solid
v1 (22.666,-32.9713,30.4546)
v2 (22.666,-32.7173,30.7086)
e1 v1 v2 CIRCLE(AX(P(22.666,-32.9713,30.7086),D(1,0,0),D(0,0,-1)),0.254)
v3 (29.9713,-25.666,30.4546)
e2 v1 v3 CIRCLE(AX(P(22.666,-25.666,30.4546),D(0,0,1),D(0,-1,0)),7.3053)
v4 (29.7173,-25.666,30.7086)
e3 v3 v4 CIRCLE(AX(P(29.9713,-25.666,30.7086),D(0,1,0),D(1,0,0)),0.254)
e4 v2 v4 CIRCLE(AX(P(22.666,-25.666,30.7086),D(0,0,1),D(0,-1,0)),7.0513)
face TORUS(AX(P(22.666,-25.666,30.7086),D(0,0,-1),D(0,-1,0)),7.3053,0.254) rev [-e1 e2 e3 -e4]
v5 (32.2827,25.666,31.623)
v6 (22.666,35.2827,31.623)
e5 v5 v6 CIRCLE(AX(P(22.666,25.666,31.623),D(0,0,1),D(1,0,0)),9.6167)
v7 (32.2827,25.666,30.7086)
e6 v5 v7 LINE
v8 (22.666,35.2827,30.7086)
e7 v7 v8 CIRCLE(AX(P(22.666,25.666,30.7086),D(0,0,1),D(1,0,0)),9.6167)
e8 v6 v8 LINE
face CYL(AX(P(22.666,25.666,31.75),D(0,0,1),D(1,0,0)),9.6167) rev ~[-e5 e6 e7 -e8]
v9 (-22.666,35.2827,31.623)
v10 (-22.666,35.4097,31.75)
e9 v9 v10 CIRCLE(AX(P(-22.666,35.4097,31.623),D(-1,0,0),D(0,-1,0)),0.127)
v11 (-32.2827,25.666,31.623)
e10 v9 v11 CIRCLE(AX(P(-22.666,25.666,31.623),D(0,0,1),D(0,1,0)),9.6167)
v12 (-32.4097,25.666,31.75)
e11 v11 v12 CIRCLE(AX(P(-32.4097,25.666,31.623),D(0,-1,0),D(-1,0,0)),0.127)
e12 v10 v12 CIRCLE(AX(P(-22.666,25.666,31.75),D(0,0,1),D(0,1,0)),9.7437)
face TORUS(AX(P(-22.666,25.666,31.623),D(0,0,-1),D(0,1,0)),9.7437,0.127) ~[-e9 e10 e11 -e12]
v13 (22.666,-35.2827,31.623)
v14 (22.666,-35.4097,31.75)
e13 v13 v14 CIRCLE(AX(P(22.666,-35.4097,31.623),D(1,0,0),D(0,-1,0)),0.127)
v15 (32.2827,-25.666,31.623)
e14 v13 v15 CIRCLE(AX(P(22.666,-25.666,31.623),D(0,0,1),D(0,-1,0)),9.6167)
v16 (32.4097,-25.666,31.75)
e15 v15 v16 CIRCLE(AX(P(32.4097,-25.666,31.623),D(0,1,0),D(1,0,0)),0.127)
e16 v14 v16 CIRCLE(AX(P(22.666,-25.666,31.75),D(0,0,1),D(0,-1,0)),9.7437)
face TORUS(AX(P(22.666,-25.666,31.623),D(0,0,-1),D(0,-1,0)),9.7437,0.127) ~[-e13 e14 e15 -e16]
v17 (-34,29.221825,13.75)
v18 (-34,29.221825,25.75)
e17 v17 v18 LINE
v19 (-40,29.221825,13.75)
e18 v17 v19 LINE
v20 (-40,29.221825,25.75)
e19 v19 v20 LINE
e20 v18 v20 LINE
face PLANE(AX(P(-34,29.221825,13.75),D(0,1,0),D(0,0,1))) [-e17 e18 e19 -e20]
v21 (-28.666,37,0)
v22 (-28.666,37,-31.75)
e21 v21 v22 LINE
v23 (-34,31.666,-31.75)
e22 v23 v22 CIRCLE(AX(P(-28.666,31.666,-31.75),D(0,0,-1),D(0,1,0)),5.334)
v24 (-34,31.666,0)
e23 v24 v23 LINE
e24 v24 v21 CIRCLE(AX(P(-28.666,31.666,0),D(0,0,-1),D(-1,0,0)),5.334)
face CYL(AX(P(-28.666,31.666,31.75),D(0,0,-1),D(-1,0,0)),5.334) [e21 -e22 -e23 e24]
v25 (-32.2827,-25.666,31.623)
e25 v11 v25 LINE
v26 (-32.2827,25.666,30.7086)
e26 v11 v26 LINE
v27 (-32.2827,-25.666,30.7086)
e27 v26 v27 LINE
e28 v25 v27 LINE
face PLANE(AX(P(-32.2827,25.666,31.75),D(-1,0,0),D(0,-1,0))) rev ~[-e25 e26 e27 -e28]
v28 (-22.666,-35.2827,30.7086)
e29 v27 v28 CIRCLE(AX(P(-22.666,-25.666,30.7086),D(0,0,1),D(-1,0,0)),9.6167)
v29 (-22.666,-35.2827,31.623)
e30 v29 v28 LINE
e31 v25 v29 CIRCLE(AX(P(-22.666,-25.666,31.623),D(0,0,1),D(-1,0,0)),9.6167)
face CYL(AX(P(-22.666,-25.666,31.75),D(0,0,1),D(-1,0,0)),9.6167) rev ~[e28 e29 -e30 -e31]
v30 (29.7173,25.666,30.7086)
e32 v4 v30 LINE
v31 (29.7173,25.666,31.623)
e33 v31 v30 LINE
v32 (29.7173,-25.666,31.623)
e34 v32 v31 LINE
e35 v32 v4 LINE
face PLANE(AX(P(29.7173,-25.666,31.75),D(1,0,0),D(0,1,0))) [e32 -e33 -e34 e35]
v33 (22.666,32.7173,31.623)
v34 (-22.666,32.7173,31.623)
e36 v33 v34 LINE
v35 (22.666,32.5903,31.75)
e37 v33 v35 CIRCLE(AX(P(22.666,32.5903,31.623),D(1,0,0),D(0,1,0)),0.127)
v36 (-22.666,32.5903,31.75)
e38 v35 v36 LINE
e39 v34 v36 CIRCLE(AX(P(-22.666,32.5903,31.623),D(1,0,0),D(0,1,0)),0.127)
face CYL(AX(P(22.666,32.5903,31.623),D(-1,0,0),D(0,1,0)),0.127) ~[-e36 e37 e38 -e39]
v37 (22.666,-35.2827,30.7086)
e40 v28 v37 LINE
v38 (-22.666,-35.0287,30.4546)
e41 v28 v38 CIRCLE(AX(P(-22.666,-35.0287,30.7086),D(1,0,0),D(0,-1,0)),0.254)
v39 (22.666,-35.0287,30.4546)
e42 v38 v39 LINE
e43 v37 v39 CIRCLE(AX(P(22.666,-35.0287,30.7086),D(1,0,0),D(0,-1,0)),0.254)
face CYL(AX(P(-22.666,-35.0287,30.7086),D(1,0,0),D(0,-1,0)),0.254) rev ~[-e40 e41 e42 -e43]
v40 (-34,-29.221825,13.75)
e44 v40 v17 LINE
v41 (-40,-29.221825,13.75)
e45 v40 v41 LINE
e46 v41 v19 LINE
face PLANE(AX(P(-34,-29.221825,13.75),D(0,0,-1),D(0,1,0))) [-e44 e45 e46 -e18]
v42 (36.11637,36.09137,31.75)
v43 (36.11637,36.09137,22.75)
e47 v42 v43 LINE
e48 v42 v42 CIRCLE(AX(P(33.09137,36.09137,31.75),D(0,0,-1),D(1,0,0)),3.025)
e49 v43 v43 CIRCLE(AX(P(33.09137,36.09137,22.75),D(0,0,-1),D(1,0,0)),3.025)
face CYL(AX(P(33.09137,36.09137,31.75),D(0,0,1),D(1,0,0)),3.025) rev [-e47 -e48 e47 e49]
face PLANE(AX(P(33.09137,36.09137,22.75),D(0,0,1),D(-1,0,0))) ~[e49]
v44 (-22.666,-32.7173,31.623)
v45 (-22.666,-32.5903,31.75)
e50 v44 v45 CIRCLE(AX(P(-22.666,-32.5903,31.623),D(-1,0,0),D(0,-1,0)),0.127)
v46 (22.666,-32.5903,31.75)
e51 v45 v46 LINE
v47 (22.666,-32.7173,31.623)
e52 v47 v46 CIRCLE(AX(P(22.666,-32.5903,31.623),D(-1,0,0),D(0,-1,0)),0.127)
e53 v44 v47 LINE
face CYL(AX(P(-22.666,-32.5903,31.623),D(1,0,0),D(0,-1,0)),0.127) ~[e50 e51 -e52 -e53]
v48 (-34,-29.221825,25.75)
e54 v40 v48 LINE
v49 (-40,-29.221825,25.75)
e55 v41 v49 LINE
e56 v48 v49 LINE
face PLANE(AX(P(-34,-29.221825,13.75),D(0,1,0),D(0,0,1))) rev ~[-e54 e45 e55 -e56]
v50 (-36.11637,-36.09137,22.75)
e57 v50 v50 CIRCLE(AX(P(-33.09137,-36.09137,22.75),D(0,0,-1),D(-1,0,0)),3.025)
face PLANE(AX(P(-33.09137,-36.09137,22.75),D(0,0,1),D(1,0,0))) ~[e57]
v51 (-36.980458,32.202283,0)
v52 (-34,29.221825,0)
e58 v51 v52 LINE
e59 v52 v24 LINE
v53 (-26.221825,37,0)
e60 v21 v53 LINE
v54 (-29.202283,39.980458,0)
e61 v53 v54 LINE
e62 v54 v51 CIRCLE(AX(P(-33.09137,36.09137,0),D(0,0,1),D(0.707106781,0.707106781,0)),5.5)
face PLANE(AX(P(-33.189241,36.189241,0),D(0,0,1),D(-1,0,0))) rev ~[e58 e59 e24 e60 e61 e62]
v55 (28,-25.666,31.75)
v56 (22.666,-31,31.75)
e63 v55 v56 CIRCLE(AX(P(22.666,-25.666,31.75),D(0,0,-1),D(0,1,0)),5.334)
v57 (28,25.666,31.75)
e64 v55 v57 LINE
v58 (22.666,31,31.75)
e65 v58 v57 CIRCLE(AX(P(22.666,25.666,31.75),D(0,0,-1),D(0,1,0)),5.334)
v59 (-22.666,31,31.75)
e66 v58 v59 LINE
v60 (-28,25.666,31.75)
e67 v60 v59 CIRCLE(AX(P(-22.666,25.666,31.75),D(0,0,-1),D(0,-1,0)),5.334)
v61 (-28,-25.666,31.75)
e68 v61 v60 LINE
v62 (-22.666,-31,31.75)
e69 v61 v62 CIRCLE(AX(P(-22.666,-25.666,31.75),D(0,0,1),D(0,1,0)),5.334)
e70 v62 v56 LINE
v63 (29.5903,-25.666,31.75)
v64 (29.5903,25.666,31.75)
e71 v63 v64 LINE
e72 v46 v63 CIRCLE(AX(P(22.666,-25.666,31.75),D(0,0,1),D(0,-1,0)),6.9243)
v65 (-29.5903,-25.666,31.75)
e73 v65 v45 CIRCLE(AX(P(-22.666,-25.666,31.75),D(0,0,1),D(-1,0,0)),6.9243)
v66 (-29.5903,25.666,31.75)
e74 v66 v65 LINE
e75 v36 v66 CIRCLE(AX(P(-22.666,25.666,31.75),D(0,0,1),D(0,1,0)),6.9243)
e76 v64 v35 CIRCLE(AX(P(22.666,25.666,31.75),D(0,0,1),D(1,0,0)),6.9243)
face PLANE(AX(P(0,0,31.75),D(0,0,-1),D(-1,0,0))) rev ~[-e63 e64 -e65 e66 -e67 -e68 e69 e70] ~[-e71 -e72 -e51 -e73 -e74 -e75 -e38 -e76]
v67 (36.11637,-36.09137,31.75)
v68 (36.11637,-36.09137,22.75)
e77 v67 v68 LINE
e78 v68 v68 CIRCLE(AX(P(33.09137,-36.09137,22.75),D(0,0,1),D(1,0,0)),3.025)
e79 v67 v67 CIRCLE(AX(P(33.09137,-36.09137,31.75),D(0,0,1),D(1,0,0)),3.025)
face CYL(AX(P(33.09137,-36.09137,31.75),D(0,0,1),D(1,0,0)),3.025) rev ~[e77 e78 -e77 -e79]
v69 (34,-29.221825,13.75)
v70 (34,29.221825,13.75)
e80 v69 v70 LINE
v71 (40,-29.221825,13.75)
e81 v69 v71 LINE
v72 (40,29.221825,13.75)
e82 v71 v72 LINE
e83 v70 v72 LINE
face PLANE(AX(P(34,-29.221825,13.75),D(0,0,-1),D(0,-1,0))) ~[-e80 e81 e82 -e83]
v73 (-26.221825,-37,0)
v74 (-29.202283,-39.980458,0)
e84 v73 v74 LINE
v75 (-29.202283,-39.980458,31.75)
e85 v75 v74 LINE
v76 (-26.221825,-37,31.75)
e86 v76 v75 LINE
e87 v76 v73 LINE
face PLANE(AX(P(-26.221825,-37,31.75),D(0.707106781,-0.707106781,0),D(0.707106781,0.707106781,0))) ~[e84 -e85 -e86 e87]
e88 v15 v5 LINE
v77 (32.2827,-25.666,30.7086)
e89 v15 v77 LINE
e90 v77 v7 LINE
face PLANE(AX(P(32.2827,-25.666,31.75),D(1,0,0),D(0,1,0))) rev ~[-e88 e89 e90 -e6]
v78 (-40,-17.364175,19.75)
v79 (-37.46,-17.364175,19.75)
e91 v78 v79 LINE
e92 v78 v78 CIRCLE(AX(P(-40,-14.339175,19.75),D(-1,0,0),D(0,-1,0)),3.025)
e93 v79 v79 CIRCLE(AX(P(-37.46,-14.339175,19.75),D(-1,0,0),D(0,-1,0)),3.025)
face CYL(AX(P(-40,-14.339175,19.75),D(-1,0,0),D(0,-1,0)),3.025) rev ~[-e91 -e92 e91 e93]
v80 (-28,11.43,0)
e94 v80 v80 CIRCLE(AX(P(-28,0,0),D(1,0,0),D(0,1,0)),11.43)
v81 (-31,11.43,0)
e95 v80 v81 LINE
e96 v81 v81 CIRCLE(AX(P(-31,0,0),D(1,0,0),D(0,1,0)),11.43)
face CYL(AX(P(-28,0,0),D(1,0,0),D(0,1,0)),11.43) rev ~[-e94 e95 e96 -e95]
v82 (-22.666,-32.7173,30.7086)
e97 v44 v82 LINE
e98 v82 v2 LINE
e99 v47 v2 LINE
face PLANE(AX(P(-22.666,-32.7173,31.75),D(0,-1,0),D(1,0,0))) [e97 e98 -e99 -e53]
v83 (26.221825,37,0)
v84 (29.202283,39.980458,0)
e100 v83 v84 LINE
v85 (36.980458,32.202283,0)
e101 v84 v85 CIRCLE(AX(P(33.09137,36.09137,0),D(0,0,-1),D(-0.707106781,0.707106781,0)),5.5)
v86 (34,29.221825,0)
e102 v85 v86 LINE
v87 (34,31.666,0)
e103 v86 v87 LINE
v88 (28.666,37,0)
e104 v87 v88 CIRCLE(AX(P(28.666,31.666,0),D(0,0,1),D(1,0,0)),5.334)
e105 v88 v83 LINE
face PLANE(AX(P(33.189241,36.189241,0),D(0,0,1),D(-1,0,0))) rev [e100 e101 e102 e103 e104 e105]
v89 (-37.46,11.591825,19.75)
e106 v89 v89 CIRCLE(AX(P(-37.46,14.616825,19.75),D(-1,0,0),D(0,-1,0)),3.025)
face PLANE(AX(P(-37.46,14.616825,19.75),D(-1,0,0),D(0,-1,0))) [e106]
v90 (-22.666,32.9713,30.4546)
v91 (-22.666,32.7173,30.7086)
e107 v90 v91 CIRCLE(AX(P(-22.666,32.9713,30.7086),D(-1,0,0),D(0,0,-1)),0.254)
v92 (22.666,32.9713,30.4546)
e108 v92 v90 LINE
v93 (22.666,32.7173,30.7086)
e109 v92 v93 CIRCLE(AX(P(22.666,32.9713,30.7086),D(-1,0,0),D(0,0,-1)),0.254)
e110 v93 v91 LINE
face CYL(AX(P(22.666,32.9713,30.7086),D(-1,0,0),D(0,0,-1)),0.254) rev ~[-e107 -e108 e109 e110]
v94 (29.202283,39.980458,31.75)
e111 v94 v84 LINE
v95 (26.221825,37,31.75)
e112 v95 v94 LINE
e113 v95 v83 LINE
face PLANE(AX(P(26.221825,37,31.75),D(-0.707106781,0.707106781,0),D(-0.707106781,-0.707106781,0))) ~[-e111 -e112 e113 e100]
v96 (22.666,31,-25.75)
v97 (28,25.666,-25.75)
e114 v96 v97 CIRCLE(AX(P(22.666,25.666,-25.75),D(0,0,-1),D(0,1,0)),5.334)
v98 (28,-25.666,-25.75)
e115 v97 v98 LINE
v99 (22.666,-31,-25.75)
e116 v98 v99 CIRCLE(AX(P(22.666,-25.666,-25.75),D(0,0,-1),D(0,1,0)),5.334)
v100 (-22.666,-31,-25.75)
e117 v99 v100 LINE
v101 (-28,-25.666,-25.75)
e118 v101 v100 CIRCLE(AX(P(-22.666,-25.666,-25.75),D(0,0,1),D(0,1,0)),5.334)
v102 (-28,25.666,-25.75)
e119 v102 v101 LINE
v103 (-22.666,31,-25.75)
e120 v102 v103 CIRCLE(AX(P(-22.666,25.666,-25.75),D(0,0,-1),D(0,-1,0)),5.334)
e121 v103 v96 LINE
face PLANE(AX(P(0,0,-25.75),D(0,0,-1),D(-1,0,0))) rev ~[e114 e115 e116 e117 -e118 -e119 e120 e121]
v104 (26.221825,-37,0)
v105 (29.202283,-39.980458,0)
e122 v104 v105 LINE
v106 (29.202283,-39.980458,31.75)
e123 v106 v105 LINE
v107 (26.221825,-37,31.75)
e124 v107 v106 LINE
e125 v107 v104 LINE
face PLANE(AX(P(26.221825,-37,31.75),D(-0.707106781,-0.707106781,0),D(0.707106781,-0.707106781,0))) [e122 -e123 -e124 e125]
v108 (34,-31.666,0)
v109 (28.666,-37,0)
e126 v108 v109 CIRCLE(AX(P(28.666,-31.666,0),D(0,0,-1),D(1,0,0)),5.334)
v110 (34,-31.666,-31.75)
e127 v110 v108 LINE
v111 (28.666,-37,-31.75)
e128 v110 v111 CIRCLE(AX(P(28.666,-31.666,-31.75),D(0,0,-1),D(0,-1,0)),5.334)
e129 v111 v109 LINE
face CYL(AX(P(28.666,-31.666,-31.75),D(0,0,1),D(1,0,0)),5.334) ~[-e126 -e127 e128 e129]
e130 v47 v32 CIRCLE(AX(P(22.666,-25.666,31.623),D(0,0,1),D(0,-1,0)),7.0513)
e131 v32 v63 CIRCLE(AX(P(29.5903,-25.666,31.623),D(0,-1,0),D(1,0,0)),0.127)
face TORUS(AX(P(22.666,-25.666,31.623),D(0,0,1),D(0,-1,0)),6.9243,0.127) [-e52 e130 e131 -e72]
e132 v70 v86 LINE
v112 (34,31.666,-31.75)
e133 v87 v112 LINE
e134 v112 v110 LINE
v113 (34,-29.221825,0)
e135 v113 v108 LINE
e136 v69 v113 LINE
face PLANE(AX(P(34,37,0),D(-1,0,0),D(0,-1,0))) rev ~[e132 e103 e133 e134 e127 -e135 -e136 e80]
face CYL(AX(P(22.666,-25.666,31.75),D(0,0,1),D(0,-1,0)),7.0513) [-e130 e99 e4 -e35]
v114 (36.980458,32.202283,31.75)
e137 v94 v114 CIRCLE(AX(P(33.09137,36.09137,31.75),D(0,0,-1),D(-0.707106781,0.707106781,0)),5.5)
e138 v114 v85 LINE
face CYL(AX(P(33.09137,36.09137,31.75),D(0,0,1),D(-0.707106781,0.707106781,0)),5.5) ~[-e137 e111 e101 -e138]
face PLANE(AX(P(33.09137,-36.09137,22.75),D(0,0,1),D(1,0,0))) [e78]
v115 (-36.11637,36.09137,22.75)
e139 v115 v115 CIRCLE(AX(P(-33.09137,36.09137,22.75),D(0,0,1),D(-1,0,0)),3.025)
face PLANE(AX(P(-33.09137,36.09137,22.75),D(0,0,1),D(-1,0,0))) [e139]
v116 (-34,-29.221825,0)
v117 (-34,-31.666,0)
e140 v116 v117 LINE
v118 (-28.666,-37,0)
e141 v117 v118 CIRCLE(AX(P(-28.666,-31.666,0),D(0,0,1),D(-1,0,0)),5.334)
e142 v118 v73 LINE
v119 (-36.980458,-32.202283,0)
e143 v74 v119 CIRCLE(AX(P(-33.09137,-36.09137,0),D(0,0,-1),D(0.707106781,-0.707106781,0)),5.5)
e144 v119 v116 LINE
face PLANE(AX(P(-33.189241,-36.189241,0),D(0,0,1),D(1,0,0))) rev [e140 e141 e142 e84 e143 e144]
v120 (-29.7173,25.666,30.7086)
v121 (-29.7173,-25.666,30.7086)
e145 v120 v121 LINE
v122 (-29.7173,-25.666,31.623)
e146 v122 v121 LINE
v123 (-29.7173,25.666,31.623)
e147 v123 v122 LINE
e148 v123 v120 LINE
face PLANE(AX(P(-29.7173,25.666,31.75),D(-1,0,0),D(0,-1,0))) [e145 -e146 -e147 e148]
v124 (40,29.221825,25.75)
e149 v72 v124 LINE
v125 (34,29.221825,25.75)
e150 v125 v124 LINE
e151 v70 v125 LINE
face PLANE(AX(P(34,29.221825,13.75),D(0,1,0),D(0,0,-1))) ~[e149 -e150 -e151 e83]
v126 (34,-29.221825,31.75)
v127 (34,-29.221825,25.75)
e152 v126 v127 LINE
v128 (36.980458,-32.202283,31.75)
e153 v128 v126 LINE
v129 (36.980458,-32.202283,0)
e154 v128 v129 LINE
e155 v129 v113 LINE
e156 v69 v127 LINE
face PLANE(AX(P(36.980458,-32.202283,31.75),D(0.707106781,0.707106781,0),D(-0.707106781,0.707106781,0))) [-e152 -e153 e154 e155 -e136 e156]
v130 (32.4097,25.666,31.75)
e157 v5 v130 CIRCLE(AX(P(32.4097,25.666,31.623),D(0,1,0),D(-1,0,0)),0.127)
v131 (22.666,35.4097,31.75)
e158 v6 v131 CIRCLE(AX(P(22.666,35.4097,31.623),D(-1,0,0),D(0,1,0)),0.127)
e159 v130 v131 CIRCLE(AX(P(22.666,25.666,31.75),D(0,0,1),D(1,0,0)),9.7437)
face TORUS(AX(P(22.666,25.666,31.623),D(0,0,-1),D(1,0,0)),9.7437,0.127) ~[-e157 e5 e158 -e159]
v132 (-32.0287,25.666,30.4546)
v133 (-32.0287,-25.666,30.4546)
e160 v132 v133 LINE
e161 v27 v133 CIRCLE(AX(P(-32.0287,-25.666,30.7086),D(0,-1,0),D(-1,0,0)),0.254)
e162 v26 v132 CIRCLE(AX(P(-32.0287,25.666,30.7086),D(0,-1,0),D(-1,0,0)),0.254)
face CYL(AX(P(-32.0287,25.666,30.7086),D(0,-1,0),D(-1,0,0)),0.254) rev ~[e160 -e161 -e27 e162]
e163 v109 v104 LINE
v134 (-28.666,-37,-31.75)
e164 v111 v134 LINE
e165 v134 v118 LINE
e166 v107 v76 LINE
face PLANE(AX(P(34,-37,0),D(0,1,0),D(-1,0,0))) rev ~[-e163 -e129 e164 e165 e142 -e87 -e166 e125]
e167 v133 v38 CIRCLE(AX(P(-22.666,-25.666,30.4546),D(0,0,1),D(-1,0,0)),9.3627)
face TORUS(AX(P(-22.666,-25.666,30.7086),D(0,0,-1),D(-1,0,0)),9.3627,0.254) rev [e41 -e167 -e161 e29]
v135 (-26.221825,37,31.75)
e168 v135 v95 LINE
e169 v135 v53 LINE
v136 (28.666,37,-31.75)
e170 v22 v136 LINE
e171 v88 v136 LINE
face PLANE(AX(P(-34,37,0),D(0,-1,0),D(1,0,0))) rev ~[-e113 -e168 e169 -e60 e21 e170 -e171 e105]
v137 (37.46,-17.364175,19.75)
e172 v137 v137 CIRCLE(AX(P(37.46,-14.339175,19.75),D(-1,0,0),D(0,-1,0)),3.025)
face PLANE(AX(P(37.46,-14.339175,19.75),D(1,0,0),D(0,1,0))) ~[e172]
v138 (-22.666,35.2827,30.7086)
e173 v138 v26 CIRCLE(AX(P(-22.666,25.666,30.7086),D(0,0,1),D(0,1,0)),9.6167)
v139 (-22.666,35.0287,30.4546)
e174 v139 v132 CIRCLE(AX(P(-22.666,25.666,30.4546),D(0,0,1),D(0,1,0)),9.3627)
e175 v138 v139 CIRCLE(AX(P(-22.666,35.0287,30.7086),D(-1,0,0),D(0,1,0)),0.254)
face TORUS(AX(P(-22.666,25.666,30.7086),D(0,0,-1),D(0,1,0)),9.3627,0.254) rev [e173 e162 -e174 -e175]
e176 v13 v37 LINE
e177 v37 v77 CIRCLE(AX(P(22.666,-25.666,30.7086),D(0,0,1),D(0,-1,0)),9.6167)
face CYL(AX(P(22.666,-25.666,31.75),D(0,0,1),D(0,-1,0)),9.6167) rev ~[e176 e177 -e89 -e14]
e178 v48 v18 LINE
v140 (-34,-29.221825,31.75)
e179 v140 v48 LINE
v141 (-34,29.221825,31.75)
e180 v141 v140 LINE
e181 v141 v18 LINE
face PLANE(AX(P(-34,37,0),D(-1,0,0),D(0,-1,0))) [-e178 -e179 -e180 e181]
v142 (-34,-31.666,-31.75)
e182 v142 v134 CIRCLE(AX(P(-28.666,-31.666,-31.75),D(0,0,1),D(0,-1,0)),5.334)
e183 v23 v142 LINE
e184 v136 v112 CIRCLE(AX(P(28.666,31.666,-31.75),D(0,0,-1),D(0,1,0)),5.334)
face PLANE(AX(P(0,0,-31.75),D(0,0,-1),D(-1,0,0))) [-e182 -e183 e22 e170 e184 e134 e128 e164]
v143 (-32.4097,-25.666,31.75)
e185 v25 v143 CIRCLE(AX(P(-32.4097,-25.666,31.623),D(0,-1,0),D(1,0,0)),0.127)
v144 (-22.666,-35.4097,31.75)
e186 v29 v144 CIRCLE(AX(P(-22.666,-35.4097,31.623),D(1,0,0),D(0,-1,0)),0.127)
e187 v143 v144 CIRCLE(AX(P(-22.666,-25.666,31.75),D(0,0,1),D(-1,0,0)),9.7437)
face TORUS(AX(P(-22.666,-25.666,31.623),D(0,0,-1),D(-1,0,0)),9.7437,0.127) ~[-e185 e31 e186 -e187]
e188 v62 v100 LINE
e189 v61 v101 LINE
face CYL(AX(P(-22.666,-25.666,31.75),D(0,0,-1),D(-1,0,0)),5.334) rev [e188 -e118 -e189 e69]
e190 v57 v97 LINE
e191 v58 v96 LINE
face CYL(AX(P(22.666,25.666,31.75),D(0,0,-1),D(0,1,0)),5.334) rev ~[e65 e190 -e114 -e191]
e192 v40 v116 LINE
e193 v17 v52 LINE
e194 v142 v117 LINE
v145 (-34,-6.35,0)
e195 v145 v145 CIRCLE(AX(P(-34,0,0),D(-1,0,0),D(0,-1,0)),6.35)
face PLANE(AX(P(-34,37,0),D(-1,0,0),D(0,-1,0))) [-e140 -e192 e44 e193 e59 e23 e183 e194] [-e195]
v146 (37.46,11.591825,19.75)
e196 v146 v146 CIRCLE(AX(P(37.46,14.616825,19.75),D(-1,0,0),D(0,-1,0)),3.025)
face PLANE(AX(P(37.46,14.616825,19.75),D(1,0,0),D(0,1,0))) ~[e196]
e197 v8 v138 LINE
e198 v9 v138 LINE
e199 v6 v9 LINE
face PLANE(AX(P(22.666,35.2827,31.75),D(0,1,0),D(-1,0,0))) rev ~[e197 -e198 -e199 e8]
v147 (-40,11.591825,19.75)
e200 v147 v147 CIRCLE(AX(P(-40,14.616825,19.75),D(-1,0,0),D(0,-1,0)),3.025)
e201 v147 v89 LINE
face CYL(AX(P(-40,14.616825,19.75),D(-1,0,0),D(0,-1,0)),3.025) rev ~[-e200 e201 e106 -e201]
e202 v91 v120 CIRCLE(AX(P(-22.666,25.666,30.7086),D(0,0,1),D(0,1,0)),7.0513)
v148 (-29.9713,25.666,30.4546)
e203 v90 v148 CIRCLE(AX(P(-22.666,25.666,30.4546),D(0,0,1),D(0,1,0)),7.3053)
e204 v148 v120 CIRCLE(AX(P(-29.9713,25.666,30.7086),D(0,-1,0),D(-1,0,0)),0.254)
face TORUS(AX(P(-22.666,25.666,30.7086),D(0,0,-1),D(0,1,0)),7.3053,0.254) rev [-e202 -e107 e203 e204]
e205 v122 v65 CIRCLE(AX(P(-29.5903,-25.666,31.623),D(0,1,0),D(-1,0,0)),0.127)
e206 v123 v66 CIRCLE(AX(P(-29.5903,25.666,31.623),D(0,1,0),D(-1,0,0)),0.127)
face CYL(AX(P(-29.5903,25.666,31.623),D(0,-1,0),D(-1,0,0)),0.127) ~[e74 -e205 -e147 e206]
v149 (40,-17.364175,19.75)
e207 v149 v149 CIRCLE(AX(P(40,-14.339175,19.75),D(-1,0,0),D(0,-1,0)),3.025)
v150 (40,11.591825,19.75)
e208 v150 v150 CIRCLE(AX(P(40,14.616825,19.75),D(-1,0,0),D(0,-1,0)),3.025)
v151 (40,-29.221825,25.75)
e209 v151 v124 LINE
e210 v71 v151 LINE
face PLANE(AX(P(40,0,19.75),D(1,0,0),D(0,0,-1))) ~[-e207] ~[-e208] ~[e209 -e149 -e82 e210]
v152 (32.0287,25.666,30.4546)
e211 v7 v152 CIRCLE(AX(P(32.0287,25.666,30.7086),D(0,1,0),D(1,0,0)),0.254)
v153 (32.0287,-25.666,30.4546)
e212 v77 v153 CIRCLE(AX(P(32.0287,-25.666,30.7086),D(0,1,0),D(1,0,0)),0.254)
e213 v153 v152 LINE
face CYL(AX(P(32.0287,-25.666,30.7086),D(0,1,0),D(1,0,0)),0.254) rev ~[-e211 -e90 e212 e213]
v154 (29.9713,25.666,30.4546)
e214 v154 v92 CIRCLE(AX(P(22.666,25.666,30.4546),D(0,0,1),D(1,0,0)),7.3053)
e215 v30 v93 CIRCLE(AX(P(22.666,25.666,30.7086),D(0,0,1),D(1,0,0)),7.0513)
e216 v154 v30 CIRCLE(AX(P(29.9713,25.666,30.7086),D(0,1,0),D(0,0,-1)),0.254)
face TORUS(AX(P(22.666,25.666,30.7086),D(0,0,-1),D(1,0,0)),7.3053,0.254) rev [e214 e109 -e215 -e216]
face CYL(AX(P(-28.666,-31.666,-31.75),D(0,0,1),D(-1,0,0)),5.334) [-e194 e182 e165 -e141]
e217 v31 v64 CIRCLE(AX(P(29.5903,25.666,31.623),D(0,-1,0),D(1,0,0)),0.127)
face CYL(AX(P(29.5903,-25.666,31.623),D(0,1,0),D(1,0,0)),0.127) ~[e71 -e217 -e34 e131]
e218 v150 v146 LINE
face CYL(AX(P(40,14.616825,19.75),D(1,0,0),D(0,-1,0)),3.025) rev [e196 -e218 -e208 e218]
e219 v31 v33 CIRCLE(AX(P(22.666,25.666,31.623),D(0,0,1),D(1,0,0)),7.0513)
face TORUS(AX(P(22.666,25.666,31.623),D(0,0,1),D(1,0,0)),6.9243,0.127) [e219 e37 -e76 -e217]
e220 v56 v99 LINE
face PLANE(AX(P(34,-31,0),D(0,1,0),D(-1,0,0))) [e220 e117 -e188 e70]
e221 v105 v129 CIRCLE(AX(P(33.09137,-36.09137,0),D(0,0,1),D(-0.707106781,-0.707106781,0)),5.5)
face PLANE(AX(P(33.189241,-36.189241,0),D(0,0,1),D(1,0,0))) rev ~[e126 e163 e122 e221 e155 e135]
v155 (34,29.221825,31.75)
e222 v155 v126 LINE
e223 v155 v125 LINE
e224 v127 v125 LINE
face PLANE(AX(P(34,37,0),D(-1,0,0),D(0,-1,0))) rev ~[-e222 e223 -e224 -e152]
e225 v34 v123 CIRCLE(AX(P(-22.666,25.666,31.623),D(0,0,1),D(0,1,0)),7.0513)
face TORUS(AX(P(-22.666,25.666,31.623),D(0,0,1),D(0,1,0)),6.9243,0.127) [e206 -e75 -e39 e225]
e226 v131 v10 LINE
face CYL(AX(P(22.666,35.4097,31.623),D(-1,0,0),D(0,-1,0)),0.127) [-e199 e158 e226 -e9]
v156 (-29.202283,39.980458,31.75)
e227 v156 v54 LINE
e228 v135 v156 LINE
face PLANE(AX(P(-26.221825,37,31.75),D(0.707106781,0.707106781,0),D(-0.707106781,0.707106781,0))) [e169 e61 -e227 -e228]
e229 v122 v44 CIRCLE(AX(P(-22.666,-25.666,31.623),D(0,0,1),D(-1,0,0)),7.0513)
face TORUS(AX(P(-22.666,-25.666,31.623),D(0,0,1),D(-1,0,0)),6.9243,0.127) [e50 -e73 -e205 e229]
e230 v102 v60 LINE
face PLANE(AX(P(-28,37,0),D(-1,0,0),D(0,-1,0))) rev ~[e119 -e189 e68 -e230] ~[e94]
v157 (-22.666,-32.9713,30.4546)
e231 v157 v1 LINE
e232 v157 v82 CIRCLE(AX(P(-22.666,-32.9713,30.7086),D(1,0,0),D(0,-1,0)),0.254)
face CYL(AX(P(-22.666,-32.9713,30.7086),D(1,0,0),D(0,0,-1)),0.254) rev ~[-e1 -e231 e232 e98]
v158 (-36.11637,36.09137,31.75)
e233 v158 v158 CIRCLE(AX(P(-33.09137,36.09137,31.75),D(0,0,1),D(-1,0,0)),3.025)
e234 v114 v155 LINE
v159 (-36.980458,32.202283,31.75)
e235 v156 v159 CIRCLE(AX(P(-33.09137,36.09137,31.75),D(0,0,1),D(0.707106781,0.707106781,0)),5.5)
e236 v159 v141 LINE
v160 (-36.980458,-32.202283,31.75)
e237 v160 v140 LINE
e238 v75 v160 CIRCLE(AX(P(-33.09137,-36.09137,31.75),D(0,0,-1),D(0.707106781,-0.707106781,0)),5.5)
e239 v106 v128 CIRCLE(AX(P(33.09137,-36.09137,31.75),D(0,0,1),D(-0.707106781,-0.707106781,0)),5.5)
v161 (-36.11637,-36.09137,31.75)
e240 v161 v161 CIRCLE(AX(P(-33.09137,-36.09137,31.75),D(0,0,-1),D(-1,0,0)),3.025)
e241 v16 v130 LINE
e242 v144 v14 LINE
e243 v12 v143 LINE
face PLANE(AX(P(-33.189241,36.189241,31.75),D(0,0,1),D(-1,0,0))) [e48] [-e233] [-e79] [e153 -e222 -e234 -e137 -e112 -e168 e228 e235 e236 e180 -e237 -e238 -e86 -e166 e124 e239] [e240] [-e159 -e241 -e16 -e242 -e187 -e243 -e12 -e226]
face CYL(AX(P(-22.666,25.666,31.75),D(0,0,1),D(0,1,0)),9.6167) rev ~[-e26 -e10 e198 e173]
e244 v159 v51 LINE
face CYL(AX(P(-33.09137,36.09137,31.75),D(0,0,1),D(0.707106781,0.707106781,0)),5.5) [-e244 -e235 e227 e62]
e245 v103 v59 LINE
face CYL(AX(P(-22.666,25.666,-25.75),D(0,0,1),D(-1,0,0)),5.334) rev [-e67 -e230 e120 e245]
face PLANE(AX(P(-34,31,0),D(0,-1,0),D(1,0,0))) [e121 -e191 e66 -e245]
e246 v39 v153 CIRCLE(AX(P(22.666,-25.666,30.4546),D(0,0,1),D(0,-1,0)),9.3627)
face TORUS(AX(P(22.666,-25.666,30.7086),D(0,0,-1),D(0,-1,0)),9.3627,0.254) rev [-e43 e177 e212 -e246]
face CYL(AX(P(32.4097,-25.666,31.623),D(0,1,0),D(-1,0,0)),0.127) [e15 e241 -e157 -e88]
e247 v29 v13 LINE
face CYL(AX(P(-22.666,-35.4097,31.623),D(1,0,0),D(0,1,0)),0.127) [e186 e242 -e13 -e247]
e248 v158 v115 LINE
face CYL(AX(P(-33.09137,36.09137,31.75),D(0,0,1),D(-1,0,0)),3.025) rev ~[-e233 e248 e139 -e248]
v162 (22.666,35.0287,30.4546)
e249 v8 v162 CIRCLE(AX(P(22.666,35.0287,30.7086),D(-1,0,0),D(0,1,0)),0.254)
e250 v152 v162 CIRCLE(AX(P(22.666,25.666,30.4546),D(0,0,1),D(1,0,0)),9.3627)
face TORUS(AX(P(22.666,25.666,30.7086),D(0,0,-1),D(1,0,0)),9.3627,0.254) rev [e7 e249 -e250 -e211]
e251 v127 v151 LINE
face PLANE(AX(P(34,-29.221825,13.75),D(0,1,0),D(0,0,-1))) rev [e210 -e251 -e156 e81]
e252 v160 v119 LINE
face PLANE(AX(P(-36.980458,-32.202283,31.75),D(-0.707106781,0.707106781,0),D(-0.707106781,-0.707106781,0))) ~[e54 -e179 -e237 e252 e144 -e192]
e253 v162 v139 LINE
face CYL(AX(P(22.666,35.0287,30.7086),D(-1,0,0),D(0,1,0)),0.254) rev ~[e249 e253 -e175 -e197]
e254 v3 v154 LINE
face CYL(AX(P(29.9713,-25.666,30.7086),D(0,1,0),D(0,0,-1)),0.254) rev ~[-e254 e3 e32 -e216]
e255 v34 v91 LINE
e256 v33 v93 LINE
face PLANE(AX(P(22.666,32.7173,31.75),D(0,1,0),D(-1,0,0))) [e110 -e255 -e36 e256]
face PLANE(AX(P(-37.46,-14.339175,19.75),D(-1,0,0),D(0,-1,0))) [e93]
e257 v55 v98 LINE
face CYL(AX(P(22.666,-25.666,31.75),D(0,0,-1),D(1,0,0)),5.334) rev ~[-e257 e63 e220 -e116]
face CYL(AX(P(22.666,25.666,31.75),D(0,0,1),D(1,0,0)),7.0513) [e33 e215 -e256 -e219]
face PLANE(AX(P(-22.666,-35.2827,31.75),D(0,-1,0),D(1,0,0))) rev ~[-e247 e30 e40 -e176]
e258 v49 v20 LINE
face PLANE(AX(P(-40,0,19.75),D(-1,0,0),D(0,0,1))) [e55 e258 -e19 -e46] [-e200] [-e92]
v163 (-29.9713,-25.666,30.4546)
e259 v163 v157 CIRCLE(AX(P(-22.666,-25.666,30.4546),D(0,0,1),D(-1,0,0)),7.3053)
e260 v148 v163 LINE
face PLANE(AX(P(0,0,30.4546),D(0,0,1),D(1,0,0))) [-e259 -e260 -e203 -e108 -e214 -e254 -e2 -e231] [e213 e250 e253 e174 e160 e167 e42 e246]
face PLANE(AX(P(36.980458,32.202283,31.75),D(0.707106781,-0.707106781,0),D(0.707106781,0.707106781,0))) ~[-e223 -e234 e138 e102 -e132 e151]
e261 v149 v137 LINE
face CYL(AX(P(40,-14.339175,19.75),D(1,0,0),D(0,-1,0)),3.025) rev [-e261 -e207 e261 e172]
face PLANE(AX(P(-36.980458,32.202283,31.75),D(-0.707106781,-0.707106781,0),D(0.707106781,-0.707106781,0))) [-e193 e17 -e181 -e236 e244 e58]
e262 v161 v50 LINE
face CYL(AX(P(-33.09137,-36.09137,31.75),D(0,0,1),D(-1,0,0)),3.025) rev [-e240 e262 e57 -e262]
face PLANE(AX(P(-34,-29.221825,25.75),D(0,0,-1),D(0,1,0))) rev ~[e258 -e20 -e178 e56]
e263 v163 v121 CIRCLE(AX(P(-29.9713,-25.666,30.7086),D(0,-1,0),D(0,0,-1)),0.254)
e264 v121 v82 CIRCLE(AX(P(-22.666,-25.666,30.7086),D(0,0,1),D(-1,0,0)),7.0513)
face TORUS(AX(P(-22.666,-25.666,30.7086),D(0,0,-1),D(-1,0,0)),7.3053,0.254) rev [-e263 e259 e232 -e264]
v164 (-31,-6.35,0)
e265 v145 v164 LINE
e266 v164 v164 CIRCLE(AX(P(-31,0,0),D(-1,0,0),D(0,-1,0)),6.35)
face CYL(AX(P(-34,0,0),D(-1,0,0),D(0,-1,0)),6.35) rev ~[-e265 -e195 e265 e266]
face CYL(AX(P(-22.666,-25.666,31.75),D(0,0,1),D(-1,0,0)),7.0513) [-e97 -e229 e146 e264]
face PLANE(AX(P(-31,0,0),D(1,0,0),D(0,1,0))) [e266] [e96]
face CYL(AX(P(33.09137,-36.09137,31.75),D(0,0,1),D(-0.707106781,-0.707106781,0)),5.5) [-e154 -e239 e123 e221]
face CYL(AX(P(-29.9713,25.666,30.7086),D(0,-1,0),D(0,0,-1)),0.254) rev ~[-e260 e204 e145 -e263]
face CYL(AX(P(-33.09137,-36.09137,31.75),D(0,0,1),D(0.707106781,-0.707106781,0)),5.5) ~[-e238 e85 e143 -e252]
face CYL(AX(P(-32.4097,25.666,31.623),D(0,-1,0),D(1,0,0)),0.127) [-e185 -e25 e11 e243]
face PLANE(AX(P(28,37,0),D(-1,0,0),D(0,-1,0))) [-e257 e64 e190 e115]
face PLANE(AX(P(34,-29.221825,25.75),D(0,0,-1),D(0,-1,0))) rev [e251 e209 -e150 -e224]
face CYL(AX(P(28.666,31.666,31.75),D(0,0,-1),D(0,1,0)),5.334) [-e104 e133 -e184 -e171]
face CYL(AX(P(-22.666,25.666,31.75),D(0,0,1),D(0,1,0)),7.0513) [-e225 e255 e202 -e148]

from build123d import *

# Parameters (mm, degrees)
BOSS_EXTRUDE1_DEPTH     = 31.75
SHELL1_T                = -6
FILLET1_R               = 5.334
CUT_EXTRUDE1_DEPTH      = 1.2954
FILLET2_R               = 0.254
FILLET3_R               = 0.127
BOSS_EXTRUDE2_DEPTH     = 31.75
SKETCH4_R               = 3.025
CUT_EXTRUDE2_DEPTH      = 9
MIRROR2_COPY_1_DEPTH    = 31.75
MIRROR2_COPY_2_SKETCH_R = 3.025
MIRROR2_COPY_2_DEPTH    = 9
SKETCH8_W               = 12
SKETCH8_H               = 58.443650814
BOSS_EXTRUDE3_DEPTH     = 6
SKETCH12_R              = 3.025
CUT_EXTRUDE6_DEPTH      = 2.54
SKETCH13_R              = 6.35
CUT_EXTRUDE10_DEPTH     = 6
SKETCH16_R              = 11.43
CUT_EXTRUDE14_DEPTH     = 3


with BuildPart() as part:
    # Sketch1 → Boss-Extrude1 (new, symmetric)
    with BuildSketch(Plane.XY):
        Polygon((-34, -37), (-34, -16.68), (-34, 16.68), (-34, 37), (34, 37), (34, -37), align=None)
    extrude(amount=BOSS_EXTRUDE1_DEPTH, both=True)

    # Shell1
    shell1_openings = [part.faces().sort_by_distance(p)[0] for p in [
        (0, 0, 31.75),
    ]]
    offset(amount=SHELL1_T, openings=shell1_openings, kind=Kind.INTERSECTION)

    # Fillet1
    fillet1_edges = [part.edges().sort_by_distance(p)[0] for p in [
        (-34, -37, 0),
        (-34, 37, 0),
        (34, 37, 0),
        (34, -37, 0),
        (-28, -31, 3),
        (28, -31, 3),
        (28, 31, 3),
        (-28, 31, 3),
    ]]
    fillet(fillet1_edges, radius=FILLET1_R)

    # Sketch2 → Cut-Extrude1 (cut)
    with BuildSketch(Plane.XY.offset(31.75)):
        with BuildLine():
            Line((32.2827, -25.666), (32.2827, 25.666))
            ThreePointArc((32.2827, 25.666), (29.466033783, 32.466033783), (22.666, 35.2827))
            Line((22.666, 35.2827), (-22.666, 35.2827))
            ThreePointArc((-22.666, 35.2827), (-29.466033783, 32.466033783), (-32.2827, 25.666))
            Line((-32.2827, 25.666), (-32.2827, -25.666))
            ThreePointArc((-32.2827, -25.666), (-29.466033783, -32.466033783), (-22.666, -35.2827))
            Line((-22.666, -35.2827), (22.666, -35.2827))
            ThreePointArc((22.666, -35.2827), (29.466033783, -32.466033783), (32.2827, -25.666))
        make_face()
        with BuildLine():
            Line((-29.7173, 25.666), (-29.7173, -25.666))
            ThreePointArc((-29.7173, -25.666), (-27.652022046, -30.652022046), (-22.666, -32.7173))
            Line((-22.666, -32.7173), (22.666, -32.7173))
            ThreePointArc((22.666, -32.7173), (27.652022046, -30.652022046), (29.7173, -25.666))
            Line((29.7173, -25.666), (29.7173, 25.666))
            ThreePointArc((29.7173, 25.666), (27.652022046, 30.652022046), (22.666, 32.7173))
            Line((22.666, 32.7173), (-22.666, 32.7173))
            ThreePointArc((-22.666, 32.7173), (-27.652022046, 30.652022046), (-29.7173, 25.666))
        make_face(mode=Mode.SUBTRACT)
    extrude(amount=-CUT_EXTRUDE1_DEPTH, mode=Mode.SUBTRACT)

    # Fillet2
    fillet2_edges = [part.edges().sort_by_distance(p)[0] for p in [
        (29.466033783, -32.466033783, 30.4546),
        (0, -35.2827, 30.4546),
        (-29.466033783, -32.466033783, 30.4546),
        (-32.2827, 0, 30.4546),
        (-29.466033783, 32.466033783, 30.4546),
        (0, 35.2827, 30.4546),
        (29.466033783, 32.466033783, 30.4546),
        (32.2827, 0, 30.4546),
        (0, 32.7173, 30.4546),
        (-27.652022046, 30.652022046, 30.4546),
        (-29.7173, 0, 30.4546),
        (-27.652022046, -30.652022046, 30.4546),
        (0, -32.7173, 30.4546),
        (27.652022046, -30.652022046, 30.4546),
        (29.7173, 0, 30.4546),
        (27.652022046, 30.652022046, 30.4546),
    ]]
    fillet(fillet2_edges, radius=FILLET2_R)

    # Fillet3
    fillet3_edges = [part.edges().sort_by_distance(p)[0] for p in [
        (29.466033783, -32.466033783, 31.75),
        (32.2827, 0, 31.75),
        (29.466033783, 32.466033783, 31.75),
        (0, 35.2827, 31.75),
        (-29.466033783, 32.466033783, 31.75),
        (-32.2827, 0, 31.75),
        (-29.466033783, -32.466033783, 31.75),
        (0, -35.2827, 31.75),
        (-27.652022046, 30.652022046, 31.75),
        (0, 32.7173, 31.75),
        (27.652022046, 30.652022046, 31.75),
        (29.7173, 0, 31.75),
        (27.652022046, -30.652022046, 31.75),
        (0, -32.7173, 31.75),
        (-27.652022046, -30.652022046, 31.75),
        (-29.7173, 0, 31.75),
    ]]
    fillet(fillet3_edges, radius=FILLET3_R)

    # Sketch3 → Boss-Extrude2 (add)
    with BuildSketch(Plane.XY.offset(31.75)):
        with BuildLine():
            Line((34, -29.221825407), (34, -31.666))
            ThreePointArc((34, -31.666), (32.437707571, -35.437707571), (28.666, -37))
            Line((28.666, -37), (26.221825407, -37))
            Line((26.221825407, -37), (29.202282953, -39.980457546))
            ThreePointArc((29.202282953, -39.980457546), (36.980457546, -39.980457546), (36.980457546, -32.202282953))
            Line((36.980457546, -32.202282953), (34, -29.221825407))
        make_face()
    boss_extrude2 = extrude(amount=-BOSS_EXTRUDE2_DEPTH)

    # Sketch4 → Cut-Extrude2 (cut)
    with BuildSketch(Plane.XY.offset(31.75)):
        with Locations((33.09137025, -36.09137025)):
            Circle(SKETCH4_R)
    cut_extrude2 = extrude(amount=-CUT_EXTRUDE2_DEPTH, mode=Mode.SUBTRACT)

    # Mirror1: Boss-Extrude2, Cut-Extrude2 across plane
    add(boss_extrude2.mirror(Plane.ZX))
    add(cut_extrude2.mirror(Plane.ZX), mode=Mode.SUBTRACT)

    # Mirror2: Boss-Extrude2, Cut-Extrude2 across plane
    add(boss_extrude2.mirror(Plane(origin=(0, 0, 0), x_dir=(0, 0, 1), z_dir=(1, 0, 0))))
    add(cut_extrude2.mirror(Plane(origin=(0, 0, 0), x_dir=(0, 0, 1), z_dir=(1, 0, 0))), mode=Mode.SUBTRACT)

    # Mirror2 copy 1 sketch → Mirror2 copy 1 (add)
    with BuildSketch(Plane(origin=(0, 0, 31.75), x_dir=(-1, 0, 0), z_dir=(0, 0, 1))):
        with BuildLine():
            Line((34, -29.221825407), (34, -31.666))
            ThreePointArc((34, -31.666), (32.437707571, -35.437707571), (28.666, -37))
            Line((28.666, -37), (26.221825407, -37))
            Line((26.221825407, -37), (29.202282953, -39.980457546))
            ThreePointArc((29.202282953, -39.980457546), (36.980457546, -39.980457546), (36.980457546, -32.202282953))
            Line((36.980457546, -32.202282953), (34, -29.221825407))
        make_face()
    extrude(amount=-MIRROR2_COPY_1_DEPTH)

    # Mirror2 copy 2 sketch → Mirror2 copy 2 (cut)
    with BuildSketch(Plane(origin=(0, 0, 31.75), x_dir=(-1, 0, 0), z_dir=(0, 0, 1))):
        with Locations((33.09137025, -36.09137025)):
            Circle(MIRROR2_COPY_2_SKETCH_R)
    extrude(amount=-MIRROR2_COPY_2_DEPTH, mode=Mode.SUBTRACT)

    # Sketch8 → Boss-Extrude3 (add)
    with BuildSketch(Plane.ZY.offset(34)):
        with Locations((19.75, 0)):
            Rectangle(SKETCH8_W, SKETCH8_H)
    boss_extrude3 = extrude(amount=BOSS_EXTRUDE3_DEPTH)

    # Sketch12 → Cut-Extrude6 (cut)
    with BuildSketch(Plane.ZY.offset(40)):
        with Locations(Location((19.75, 14.616825407, 0), (0, 0, 270))):
            Circle(SKETCH12_R)
        with Locations(Location((19.75, -14.339174593, 0), (0, 0, 270))):
            Circle(SKETCH12_R)
    cut_extrude6 = extrude(amount=-CUT_EXTRUDE6_DEPTH, mode=Mode.SUBTRACT)

    # Sketch13 → Cut-Extrude10 (cut)
    with BuildSketch(Plane.ZY.offset(34)):
        with Locations(Location((0, 0, 0), (0, 0, 270))):
            Circle(SKETCH13_R)
    extrude(amount=-CUT_EXTRUDE10_DEPTH, mode=Mode.SUBTRACT)

    # Sketch16 → Cut-Extrude14 (cut)
    with BuildSketch(Plane(origin=(-28, 0, 0), x_dir=(0, 0, -1), z_dir=(1, 0, 0))):
        with Locations(Location((0, 0, 0), (0, 0, 90))):
            Circle(SKETCH16_R)
    extrude(amount=-CUT_EXTRUDE14_DEPTH, mode=Mode.SUBTRACT)

    # Mirror5: Boss-Extrude3 across plane
    add(boss_extrude3.mirror(Plane(origin=(0, 0, 0), x_dir=(0, 0, 1), z_dir=(1, 0, 0))))

    # Mirror6: Cut-Extrude6 across plane
    add(cut_extrude6.mirror(Plane(origin=(0, 0, 0), x_dir=(0, 0, 1), z_dir=(1, 0, 0))), mode=Mode.SUBTRACT)


solid = part.part
